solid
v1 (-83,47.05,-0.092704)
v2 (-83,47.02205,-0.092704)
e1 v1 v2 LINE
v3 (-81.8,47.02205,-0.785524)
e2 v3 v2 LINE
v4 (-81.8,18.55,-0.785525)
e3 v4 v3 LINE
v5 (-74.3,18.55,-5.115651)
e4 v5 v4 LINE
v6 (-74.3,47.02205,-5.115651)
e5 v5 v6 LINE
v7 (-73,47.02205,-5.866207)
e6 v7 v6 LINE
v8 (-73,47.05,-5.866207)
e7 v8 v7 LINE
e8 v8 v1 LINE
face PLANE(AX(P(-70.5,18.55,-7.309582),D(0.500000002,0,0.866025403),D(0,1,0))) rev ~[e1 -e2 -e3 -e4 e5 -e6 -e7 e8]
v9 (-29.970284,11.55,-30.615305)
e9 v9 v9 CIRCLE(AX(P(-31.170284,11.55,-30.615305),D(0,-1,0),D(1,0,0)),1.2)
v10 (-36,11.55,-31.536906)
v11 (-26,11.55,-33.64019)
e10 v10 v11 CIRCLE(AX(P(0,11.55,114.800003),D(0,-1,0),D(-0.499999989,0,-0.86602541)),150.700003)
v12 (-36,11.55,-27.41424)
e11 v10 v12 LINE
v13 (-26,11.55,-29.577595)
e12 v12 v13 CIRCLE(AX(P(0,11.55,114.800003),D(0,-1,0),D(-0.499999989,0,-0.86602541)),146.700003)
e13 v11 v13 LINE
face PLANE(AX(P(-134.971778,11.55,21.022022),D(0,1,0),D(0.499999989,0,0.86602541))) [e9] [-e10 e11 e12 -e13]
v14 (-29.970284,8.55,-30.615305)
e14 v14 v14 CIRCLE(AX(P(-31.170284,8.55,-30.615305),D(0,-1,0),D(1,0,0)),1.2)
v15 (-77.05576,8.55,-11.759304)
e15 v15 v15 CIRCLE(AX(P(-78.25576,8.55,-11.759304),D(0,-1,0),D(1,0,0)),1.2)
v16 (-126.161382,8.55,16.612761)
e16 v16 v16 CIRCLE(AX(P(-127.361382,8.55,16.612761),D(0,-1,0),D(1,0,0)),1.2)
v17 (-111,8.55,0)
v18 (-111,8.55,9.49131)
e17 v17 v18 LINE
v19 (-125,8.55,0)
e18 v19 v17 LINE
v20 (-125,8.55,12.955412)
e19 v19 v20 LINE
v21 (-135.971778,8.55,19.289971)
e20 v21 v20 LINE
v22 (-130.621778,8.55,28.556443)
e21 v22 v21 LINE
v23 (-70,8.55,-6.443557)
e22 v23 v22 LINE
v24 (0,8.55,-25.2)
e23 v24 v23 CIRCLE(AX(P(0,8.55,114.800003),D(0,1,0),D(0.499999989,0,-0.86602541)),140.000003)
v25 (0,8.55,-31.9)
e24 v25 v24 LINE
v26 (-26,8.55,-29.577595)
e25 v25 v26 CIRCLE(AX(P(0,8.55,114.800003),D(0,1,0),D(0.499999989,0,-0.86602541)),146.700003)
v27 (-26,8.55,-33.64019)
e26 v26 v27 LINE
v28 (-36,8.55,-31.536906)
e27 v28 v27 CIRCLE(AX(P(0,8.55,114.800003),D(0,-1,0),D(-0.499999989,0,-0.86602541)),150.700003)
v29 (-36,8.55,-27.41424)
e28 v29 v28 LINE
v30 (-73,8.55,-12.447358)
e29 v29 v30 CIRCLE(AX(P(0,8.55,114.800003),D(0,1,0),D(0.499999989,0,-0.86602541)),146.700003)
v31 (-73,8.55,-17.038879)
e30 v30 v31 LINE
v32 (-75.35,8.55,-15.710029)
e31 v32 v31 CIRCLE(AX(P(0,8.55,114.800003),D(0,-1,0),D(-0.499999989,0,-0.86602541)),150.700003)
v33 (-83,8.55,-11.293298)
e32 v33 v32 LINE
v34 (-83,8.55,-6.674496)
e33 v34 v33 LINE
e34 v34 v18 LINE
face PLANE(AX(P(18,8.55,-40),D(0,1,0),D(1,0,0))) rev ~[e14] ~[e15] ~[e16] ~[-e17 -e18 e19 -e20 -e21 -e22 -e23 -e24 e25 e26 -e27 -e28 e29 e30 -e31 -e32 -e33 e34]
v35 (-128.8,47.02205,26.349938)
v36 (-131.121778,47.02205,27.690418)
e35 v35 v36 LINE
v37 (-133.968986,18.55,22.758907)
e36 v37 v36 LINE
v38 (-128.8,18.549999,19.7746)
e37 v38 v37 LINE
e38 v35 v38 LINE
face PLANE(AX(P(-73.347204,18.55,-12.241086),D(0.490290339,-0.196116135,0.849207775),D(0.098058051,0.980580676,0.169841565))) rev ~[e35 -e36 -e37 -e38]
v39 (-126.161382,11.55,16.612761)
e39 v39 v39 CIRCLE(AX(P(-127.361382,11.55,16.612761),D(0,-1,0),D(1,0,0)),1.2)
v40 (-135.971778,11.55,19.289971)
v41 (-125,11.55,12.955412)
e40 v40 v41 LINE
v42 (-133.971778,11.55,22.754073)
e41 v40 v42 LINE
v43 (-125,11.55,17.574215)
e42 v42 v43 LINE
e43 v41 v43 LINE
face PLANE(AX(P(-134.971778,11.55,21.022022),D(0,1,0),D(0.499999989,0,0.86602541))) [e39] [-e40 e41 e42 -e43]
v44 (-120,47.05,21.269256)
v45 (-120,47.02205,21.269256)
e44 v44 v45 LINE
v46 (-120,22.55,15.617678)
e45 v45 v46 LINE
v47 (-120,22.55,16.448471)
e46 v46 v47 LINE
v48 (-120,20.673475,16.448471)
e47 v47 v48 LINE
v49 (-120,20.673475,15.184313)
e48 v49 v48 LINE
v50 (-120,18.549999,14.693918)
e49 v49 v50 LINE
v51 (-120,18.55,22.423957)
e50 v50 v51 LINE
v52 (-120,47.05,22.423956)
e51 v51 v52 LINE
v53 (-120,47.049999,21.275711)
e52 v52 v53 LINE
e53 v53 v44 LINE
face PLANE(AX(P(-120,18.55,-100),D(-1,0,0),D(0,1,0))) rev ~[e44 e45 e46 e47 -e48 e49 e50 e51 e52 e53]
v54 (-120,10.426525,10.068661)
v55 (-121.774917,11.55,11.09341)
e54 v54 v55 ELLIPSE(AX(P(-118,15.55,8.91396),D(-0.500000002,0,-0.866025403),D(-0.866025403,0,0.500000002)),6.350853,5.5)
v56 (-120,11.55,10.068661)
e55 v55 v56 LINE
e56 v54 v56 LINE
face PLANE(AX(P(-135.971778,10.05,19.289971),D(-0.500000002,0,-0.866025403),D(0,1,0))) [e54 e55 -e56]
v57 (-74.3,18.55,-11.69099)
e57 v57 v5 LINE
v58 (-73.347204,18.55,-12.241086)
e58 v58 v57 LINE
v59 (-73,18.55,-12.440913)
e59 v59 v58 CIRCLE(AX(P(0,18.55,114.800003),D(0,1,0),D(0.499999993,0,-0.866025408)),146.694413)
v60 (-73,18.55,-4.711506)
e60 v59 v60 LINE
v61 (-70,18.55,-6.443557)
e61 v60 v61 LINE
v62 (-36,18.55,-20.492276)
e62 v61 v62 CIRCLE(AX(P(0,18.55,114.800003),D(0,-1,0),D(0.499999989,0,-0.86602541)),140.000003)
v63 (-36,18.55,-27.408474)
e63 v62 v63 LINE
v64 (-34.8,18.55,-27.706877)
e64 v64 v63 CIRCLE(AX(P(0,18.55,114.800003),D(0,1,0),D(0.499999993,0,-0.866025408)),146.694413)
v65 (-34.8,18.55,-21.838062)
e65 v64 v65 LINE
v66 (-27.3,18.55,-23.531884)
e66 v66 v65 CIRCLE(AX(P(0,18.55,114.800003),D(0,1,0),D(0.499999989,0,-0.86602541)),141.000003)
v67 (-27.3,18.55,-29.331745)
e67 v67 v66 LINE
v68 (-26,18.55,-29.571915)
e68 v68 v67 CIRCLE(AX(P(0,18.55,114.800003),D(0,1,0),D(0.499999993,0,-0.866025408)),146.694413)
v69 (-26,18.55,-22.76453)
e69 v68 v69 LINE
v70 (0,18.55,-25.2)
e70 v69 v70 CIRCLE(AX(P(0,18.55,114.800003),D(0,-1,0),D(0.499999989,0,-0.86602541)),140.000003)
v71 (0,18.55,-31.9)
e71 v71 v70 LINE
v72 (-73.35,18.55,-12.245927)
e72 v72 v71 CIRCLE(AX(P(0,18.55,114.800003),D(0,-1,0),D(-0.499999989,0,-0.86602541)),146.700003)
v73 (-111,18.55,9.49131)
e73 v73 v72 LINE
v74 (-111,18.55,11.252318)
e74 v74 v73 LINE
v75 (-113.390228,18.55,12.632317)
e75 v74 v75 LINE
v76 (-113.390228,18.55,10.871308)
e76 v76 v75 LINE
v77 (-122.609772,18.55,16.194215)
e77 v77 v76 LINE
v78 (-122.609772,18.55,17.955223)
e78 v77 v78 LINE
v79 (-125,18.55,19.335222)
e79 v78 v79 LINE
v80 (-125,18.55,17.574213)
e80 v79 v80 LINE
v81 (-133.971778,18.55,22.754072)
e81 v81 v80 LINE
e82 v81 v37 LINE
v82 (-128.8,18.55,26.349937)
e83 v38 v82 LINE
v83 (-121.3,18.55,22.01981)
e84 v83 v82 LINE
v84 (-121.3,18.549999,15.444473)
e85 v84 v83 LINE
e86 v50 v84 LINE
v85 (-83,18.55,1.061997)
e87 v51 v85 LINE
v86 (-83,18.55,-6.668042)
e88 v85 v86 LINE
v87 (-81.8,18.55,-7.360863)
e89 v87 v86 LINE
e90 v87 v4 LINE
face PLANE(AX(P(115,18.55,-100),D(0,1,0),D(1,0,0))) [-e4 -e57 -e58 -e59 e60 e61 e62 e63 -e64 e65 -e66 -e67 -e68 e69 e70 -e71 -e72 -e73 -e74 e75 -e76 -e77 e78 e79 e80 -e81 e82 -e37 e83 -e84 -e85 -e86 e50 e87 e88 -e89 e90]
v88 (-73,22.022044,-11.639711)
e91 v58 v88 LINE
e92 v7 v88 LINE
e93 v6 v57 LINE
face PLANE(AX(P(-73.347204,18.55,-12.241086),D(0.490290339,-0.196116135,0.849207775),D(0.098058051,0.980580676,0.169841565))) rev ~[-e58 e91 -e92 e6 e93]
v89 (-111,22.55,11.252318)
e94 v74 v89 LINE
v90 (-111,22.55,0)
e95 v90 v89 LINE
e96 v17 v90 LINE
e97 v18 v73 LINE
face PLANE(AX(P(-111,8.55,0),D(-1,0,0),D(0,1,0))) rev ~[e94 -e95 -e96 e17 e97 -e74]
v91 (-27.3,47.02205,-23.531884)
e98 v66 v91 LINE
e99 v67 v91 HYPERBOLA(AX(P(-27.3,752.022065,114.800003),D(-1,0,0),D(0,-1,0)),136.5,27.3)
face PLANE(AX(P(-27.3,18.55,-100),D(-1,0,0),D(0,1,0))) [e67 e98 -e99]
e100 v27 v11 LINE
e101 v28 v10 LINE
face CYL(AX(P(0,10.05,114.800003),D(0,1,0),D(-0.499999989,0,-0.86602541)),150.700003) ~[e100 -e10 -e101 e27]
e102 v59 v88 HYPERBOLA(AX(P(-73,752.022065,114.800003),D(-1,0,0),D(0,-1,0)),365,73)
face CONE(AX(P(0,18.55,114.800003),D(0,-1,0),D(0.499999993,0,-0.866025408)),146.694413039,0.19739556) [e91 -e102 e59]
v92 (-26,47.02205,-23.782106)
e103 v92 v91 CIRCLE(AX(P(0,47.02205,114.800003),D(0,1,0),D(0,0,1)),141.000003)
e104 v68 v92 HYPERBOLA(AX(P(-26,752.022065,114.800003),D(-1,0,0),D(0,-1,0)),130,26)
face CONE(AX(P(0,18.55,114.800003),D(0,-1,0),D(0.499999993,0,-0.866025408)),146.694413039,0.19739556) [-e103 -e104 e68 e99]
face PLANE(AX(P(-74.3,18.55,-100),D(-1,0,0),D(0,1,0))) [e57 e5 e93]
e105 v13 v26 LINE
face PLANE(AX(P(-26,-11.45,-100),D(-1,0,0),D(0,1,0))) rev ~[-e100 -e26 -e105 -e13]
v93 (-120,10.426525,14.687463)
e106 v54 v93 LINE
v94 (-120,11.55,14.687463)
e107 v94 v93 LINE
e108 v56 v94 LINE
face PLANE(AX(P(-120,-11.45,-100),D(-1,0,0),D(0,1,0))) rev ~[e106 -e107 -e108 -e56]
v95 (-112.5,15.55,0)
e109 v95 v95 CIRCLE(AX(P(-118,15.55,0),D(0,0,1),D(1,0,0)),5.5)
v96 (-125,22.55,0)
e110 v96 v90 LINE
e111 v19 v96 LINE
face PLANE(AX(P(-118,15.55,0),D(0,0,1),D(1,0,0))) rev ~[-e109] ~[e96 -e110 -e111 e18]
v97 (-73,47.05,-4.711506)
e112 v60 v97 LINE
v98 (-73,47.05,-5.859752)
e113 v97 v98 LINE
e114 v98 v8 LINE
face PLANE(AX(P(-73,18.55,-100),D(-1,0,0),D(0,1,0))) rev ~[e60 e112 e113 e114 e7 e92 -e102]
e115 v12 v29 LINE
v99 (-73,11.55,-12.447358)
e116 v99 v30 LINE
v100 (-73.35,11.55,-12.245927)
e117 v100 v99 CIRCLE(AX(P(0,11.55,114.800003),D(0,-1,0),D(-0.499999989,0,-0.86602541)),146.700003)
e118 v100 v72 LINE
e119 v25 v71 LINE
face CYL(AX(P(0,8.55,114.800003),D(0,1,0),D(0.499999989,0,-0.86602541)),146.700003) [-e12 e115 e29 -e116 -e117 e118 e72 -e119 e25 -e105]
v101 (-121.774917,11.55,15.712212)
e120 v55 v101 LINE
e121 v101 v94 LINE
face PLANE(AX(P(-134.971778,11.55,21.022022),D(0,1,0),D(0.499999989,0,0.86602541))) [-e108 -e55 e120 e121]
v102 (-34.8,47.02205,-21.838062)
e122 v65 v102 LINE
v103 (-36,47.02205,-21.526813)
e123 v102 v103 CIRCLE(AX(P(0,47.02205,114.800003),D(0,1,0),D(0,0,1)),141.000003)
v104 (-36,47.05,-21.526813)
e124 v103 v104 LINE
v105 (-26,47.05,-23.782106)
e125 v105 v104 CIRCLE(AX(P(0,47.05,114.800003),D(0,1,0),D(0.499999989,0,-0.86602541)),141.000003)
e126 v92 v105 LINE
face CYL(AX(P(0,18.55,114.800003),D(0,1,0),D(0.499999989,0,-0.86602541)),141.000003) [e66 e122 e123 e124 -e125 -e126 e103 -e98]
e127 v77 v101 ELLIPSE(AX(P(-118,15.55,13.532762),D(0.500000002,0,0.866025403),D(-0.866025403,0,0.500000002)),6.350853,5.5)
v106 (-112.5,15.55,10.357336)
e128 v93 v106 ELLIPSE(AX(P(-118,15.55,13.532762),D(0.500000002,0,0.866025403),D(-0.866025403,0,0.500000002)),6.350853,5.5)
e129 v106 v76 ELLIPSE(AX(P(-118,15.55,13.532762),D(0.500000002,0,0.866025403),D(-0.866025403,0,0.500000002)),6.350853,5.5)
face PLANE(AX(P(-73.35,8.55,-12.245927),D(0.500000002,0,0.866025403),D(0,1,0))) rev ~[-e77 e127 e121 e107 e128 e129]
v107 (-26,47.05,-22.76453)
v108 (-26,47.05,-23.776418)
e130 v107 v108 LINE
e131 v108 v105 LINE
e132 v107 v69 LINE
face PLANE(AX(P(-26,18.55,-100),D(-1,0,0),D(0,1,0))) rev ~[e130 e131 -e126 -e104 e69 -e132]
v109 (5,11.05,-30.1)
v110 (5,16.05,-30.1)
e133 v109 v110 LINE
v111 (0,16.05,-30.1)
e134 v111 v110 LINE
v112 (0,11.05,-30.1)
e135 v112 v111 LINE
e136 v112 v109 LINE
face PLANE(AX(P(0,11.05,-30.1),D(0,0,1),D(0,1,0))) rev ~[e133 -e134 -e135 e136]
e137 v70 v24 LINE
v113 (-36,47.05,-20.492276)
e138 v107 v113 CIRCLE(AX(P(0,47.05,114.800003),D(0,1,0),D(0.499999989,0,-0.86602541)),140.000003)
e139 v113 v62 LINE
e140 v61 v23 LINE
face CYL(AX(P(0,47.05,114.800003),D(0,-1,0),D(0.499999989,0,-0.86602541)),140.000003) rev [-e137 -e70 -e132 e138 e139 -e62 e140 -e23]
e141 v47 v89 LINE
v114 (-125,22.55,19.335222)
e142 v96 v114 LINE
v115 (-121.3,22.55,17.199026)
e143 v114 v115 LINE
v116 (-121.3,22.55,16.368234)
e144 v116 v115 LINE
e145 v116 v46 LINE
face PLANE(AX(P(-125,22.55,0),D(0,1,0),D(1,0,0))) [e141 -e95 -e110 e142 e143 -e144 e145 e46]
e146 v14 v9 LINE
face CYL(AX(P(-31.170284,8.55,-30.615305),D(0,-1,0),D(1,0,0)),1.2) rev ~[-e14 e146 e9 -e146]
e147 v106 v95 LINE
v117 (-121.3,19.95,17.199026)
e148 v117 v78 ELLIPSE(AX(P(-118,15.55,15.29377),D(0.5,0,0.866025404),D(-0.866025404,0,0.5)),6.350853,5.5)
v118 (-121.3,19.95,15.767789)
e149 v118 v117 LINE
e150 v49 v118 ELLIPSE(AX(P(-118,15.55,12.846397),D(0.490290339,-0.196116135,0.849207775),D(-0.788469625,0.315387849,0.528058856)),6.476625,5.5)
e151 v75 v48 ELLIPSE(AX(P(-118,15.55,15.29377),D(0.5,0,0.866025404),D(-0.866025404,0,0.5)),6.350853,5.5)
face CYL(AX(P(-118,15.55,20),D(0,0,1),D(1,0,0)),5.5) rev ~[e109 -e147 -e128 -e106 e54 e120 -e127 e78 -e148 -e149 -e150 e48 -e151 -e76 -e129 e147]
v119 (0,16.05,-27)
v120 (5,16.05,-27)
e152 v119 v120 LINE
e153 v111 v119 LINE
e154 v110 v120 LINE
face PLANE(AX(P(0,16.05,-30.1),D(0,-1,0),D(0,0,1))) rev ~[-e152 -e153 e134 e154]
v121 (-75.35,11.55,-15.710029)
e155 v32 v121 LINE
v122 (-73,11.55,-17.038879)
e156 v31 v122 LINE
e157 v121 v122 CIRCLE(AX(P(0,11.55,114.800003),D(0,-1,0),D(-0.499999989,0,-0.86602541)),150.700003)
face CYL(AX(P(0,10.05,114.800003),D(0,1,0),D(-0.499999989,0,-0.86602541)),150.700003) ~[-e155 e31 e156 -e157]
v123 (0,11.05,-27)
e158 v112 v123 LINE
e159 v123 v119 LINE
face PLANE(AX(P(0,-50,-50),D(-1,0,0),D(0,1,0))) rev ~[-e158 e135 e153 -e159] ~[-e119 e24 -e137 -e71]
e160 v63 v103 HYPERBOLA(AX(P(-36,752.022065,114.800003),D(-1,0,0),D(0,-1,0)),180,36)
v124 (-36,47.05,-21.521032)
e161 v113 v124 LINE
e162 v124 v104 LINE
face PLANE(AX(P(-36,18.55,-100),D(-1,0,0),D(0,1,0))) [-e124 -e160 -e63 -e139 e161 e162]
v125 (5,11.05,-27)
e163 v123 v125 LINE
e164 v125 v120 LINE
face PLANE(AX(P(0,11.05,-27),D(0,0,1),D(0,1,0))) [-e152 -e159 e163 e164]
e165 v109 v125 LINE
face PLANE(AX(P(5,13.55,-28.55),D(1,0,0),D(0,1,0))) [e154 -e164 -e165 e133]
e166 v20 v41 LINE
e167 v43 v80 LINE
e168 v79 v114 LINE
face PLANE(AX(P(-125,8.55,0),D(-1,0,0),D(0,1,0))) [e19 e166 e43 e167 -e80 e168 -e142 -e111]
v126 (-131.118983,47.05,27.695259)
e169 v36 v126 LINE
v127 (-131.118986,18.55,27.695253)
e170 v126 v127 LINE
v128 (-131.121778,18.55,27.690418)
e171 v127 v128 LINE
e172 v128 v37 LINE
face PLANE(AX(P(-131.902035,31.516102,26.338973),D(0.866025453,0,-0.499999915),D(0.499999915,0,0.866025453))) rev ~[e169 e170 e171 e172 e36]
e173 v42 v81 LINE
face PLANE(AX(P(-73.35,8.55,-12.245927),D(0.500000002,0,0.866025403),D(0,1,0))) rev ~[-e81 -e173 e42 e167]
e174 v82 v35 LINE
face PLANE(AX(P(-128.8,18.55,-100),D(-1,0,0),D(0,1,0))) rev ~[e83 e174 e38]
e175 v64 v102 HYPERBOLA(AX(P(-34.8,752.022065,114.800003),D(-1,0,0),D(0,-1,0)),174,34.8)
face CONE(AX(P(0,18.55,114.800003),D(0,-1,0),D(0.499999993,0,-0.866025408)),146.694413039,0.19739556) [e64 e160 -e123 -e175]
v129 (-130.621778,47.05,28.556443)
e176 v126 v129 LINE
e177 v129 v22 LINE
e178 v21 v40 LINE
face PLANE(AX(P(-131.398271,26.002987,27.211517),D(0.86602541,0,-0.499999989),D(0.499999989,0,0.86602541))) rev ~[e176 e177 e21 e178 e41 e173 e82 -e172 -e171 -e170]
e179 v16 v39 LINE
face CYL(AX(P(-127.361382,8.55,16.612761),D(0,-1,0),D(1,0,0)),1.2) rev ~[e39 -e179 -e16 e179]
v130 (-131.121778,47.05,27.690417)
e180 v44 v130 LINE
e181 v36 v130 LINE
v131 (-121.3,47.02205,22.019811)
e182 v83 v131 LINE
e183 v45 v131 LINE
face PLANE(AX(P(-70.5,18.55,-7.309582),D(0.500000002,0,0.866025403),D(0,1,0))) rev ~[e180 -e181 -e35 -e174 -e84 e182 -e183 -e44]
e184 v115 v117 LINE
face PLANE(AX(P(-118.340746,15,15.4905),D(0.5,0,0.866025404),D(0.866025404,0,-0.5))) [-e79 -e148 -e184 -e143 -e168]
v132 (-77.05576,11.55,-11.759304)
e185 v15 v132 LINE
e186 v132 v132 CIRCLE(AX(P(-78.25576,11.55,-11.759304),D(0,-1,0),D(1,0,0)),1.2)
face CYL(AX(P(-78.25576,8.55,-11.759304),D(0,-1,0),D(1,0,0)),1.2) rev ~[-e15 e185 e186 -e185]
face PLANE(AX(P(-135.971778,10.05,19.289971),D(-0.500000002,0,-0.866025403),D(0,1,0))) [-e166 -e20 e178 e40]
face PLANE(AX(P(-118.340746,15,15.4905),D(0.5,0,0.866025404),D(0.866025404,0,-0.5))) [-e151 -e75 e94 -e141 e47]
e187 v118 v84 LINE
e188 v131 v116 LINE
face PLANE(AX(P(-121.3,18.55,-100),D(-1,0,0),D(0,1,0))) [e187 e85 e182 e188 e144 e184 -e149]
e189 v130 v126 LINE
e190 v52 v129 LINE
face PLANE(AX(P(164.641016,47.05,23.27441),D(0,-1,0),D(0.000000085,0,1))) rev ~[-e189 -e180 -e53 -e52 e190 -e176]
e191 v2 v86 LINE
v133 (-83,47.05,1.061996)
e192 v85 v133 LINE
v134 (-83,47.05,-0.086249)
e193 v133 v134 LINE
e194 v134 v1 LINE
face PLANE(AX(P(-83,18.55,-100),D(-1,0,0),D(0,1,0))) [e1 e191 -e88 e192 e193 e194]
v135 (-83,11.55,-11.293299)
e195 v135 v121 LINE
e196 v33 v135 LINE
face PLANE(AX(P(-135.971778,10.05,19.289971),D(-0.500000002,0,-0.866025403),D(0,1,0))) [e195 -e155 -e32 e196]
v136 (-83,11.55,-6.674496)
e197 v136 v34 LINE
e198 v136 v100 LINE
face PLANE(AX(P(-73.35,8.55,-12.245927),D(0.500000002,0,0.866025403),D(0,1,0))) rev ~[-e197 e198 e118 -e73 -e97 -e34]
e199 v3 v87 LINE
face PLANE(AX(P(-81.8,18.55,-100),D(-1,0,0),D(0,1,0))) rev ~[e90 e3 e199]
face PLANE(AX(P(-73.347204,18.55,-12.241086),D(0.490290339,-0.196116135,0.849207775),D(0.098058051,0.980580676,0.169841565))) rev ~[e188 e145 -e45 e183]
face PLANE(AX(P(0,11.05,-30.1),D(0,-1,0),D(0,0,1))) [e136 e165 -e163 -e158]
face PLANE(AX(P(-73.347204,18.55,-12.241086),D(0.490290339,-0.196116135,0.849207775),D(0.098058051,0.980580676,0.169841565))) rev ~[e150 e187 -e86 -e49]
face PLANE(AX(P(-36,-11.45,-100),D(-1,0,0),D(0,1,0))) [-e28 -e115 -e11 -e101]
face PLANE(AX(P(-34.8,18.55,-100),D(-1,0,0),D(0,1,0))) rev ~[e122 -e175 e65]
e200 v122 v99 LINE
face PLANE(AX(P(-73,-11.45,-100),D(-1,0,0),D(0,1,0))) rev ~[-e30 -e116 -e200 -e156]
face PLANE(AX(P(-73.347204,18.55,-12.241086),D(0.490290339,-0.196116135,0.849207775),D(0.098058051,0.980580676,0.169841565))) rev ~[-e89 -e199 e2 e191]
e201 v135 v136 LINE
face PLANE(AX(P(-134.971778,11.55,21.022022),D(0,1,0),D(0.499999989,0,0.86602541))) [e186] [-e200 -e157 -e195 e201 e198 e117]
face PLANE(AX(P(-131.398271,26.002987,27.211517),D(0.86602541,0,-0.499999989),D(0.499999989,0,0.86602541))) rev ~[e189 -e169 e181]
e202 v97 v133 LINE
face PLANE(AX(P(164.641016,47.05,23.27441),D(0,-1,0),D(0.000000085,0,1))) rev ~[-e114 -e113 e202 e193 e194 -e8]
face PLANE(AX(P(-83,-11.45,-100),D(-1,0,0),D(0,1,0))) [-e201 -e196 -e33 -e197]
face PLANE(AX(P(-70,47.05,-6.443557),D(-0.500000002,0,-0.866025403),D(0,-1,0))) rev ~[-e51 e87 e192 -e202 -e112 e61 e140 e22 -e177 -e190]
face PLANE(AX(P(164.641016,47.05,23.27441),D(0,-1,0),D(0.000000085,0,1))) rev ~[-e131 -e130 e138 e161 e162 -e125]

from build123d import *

# Parameters (mm, degrees)
BOX010_W               = 200
BOX010_H               = 100
BOX010_DEPTH           = 100
BOX008_W               = 20
BOX008_H               = 20
BOX008_DEPTH           = 20
BOX008_PLACEMENT_ANGLE = 30
BOX011_W               = 14
BOX011_H               = 14
BOX011_DEPTH           = 20
SKETCH039_R            = 5.5
POCKET007_DEPTH        = 20.001
BOX014_W               = 7.5
BOX014_H               = 60
BOX014_DEPTH           = 200
ARRAY002_X_COUNT       = 7
ARRAY002_X_PITCH       = 47
BOX006_W               = 37
BOX006_H               = 60
BOX006_DEPTH           = 200
ARRAY_X_COUNT          = 6
ARRAY_X_PITCH          = 47
BOX012_W               = 14
BOX012_H               = 14
BOX012_DEPTH           = 12
SKETCH032_R            = 5.5
POCKET009_DEPTH        = 12.001
BOX013_W               = 14
BOX013_H               = 14
BOX013_DEPTH           = 12
SKETCH034_R            = 5.5
POCKET008_DEPTH        = 12.001
BOX009_W               = 37
BOX009_H               = 60
BOX009_DEPTH           = 200
ARRAY001_X_COUNT       = 6
ARRAY001_X_PITCH       = 47
SKETCH035_W            = 3
SKETCH035_H            = 4
SKETCH036_R            = 1.2
POCKET006_DEPTH        = 3.001
SKETCH037_W            = 5
SKETCH037_H            = 3.1
PAD022_DEPTH           = 5


with BuildPart() as bigleft:
    # Box010 → Box010 (new body)
    with BuildSketch(Plane(origin=(0, -50, -50), x_dir=(1, 0, 0), z_dir=(0, 0, 1))):
        with Locations((100, 50)):
            Rectangle(BOX010_W, BOX010_H)
    extrude(amount=BOX010_DEPTH)


with BuildPart() as pillar_cut_cube_l:
    # Box008 → Box008 (new body)
    with BuildSketch(Plane.XY):
        with Locations((10, 10)):
            Rectangle(BOX008_W, BOX008_H)
    extrude(amount=BOX008_DEPTH)


with BuildPart() as pillar_cut_cube_l_1:
    # Box008 placement: moved
    add(pillar_cut_cube_l.part.moved(Location((-127.001, 5, 20.4905))).rotate(Axis((-127.001, 5, 20.4905), (0, 1, 0)), BOX008_PLACEMENT_ANGLE))


with BuildPart() as cut011:
    # Box011 → Box011 (new body)
    with BuildSketch(Plane(origin=(-125, 8.55, 0), x_dir=(1, 0, 0), z_dir=(0, 0, 1))):
        with Locations((7, 7)):
            Rectangle(BOX011_W, BOX011_H)
    extrude(amount=BOX011_DEPTH)

    # Sketch039 → Pocket007 (cut, through all)
    with BuildSketch(Plane(origin=(-125, 8.55, 20), x_dir=(1, 0, 0), z_dir=(0, 0, 1))):
        with Locations((7, 7)):
            Circle(SKETCH039_R)
    extrude(amount=-POCKET007_DEPTH, mode=Mode.SUBTRACT)

    # Cut011: cut pillar_cut_cube_l
    add(pillar_cut_cube_l_1.part, mode=Mode.SUBTRACT)


with BuildPart() as array002:
    # Box014 → Box014 (new body)
    with BuildSketch(Plane(origin=(-128.8, 18.55, -100), x_dir=(1, 0, 0), z_dir=(0, 0, 1))):
        with Locations((3.75, 30)):
            Rectangle(BOX014_W, BOX014_H)
    extrude(amount=BOX014_DEPTH)

    # Array002 X: Array002 ×7


with BuildPart() as array002_1:
    add(array002.part)
    with Locations(*[(i * ARRAY002_X_PITCH, 0, 0) for i in range(1, ARRAY002_X_COUNT)]):
        add(array002.part)


with BuildPart() as rail_cut_cube_array_b:
    # Box006 → Box006 (new body)
    with BuildSketch(Plane(origin=(-120, 18.55, -100), x_dir=(1, 0, 0), z_dir=(0, 0, 1))):
        with Locations((18.5, 30)):
            Rectangle(BOX006_W, BOX006_H)
    extrude(amount=BOX006_DEPTH)

    # Array X: rail_cut_cube_array_b ×6


with BuildPart() as rail_cut_cube_array_b_1:
    add(rail_cut_cube_array_b.part)
    with Locations(*[(i * ARRAY_X_PITCH, 0, 0) for i in range(1, ARRAY_X_COUNT)]):
        add(rail_cut_cube_array_b.part)


with BuildPart() as cut013:
    # Sweep002: sweep along a path in Sketch028
    with BuildLine(Plane.XZ) as sweep002_path:
        Line((164.641016, 24.27441), (144.641016, 24.27441))
        ThreePointArc((144.641016, 24.27441), (123.935493, 21.548477), (104.641016, 13.556443))
        Line((104.641016, 13.556443), (70, -6.443557))
        ThreePointArc((70, -6.443557), (0, -25.2), (-70, -6.443557))
        Line((-70, -6.443557), (-130.621778, 28.556443))
    # Sketch043 → Sweep002 (sweep)
    with BuildSketch(Plane.YZ.offset(164.641016)):
        Polygon((18.55, 17.58), (47.05, 23.28), (18.55, 23.28), align=None)
    sweep(path=sweep002_path.line)

    # Cut012: cut rail_cut_cube_array_b
    add(rail_cut_cube_array_b_1.part, mode=Mode.SUBTRACT)

    # Cut013: cut Array002
    add(array002_1.part, mode=Mode.SUBTRACT)


with BuildPart() as rail_cut_b:
    # Sweep: sweep along a path in Sketch028
    with BuildLine(Plane.XZ) as sweep_path:
        Line((164.641016, 24.27441), (144.641016, 24.27441))
        ThreePointArc((144.641016, 24.27441), (123.935493, 21.548477), (104.641016, 13.556443))
        Line((104.641016, 13.556443), (70, -6.443557))
        ThreePointArc((70, -6.443557), (0, -25.2), (-70, -6.443557))
        Line((-70, -6.443557), (-130.621778, 28.556443))
    # Sketch029 → Sweep (sweep)
    with BuildSketch(Plane.YZ):
        Polygon((-19.25, -25.2), (-19.25, -31.9), (-9.25, -31.9), (-9.25, -26.2), (19.25, -26.2), (19.25, -25.2), align=None)
    sweep(path=sweep_path.line)


with BuildPart() as rail_cut_b_1:
    # Sweep placement: moved
    add(rail_cut_b.part.moved(Location((0, 27.8, 0))))

    # Cut007: cut rail_cut_cube_array_b
    add(rail_cut_cube_array_b_1.part, mode=Mode.SUBTRACT)


with BuildPart() as pillar_hollow_r:
    # Box012 → Box012 (new body)
    with BuildSketch(Plane(origin=(143, 8.55, 7), x_dir=(1, 0, 0), z_dir=(0, 0, 1))):
        with Locations((7, 7)):
            Rectangle(BOX012_W, BOX012_H)
    extrude(amount=BOX012_DEPTH)

    # Sketch032 → Pocket009 (cut, through all)
    with BuildSketch(Plane(origin=(143, 8.55, 19), x_dir=(1, 0, 0), z_dir=(0, 0, 1))):
        with Locations((7, 7)):
            Circle(SKETCH032_R)
    extrude(amount=-POCKET009_DEPTH, mode=Mode.SUBTRACT)


with BuildPart() as pillar_hollow_m:
    # Box013 → Box013 (new body)
    with BuildSketch(Plane(origin=(18, 8.55, -40), x_dir=(1, 0, 0), z_dir=(0, 0, 1))):
        with Locations((7, 7)):
            Rectangle(BOX013_W, BOX013_H)
    extrude(amount=BOX013_DEPTH)

    # Sketch034 → Pocket008 (cut, through all)
    with BuildSketch(Plane(origin=(18, 8.55, -28), x_dir=(1, 0, 0), z_dir=(0, 0, 1))):
        with Locations((7, 7)):
            Circle(SKETCH034_R)
    extrude(amount=-POCKET008_DEPTH, mode=Mode.SUBTRACT)


with BuildPart() as mount_cube_array_b:
    # Box009 → Box009 (new body)
    with BuildSketch(Plane(origin=(-120, 18.55, -100), x_dir=(1, 0, 0), z_dir=(0, 0, 1))):
        with Locations((18.5, 30)):
            Rectangle(BOX009_W, BOX009_H)
    extrude(amount=BOX009_DEPTH)

    # Array001 X: mount_cube_array_b ×6


with BuildPart() as mount_cube_array_b_1:
    add(mount_cube_array_b.part)
    with Locations(*[(i * ARRAY001_X_PITCH, 0, 0) for i in range(1, ARRAY001_X_COUNT)]):
        add(mount_cube_array_b.part)


with BuildPart() as mount_cube_array_b_2:
    # Array001 placement: moved
    add(mount_cube_array_b_1.part.moved(Location((0, -30, 0))))


with BuildPart() as cut014:
    # Sweep001: sweep along a path in Sketch028
    with BuildLine(Plane.XZ) as sweep001_path:
        Line((-130.621778, 28.556443), (-70, -6.443557))
        ThreePointArc((-70, -6.443557), (0, -25.2), (70, -6.443557))
        Line((70, -6.443557), (104.641016, 13.556443))
        ThreePointArc((104.641016, 13.556443), (123.935493, 21.548477), (144.641016, 24.27441))
        Line((144.641016, 24.27441), (164.641016, 24.27441))
    # Sketch035 → Sweep001 (sweep)
    with BuildSketch(Plane.YZ):
        with Locations((-17.75, -33.9)):
            Rectangle(SKETCH035_W, SKETCH035_H)
    sweep(path=sweep001_path.line)


with BuildPart() as cut014_1:
    # Sweep001 placement: moved
    add(cut014.part.moved(Location((0, 27.8, 0))))

    # Sketch036 → Pocket006 (cut, through all)
    with BuildSketch(Plane.XZ.offset(-8.55)):
        with Locations((-127.361382, 16.612761)):
            Circle(SKETCH036_R)
        with Locations((-78.25576, -11.759304)):
            Circle(SKETCH036_R)
        with Locations((-31.170284, -30.615305)):
            Circle(SKETCH036_R)
        with Locations((15.982787, -32.973976)):
            Circle(SKETCH036_R)
        with Locations((62.801571, -19.921701)):
            Circle(SKETCH036_R)
        with Locations((109.81105, 6.487408)):
            Circle(SKETCH036_R)
        with Locations((158.314011, 15.583238)):
            Circle(SKETCH036_R)
    extrude(amount=-POCKET006_DEPTH, mode=Mode.SUBTRACT)

    # Cut010: cut mount_cube_array_b
    add(mount_cube_array_b_2.part, mode=Mode.SUBTRACT)

    # Fusion003: union Cut011, Cut013, rail_cut_b, pillar_hollow_r, pillar_hollow_m
    add(cut011.part)
    add(cut013.part)
    add(rail_cut_b_1.part)
    add(pillar_hollow_r.part)
    add(pillar_hollow_m.part)

    # Cut014: cut bigleft
    add(bigleft.part, mode=Mode.SUBTRACT)


with BuildPart() as rail_bl:
    # Sketch037 → Pad022 (new body)
    with BuildSketch(Plane.YZ):
        with Locations((13.55, -28.55)):
            Rectangle(SKETCH037_W, SKETCH037_H)
    extrude(amount=PAD022_DEPTH)

    # Fusion004: union Cut014
    add(cut014_1.part)


solid = rail_bl.part
